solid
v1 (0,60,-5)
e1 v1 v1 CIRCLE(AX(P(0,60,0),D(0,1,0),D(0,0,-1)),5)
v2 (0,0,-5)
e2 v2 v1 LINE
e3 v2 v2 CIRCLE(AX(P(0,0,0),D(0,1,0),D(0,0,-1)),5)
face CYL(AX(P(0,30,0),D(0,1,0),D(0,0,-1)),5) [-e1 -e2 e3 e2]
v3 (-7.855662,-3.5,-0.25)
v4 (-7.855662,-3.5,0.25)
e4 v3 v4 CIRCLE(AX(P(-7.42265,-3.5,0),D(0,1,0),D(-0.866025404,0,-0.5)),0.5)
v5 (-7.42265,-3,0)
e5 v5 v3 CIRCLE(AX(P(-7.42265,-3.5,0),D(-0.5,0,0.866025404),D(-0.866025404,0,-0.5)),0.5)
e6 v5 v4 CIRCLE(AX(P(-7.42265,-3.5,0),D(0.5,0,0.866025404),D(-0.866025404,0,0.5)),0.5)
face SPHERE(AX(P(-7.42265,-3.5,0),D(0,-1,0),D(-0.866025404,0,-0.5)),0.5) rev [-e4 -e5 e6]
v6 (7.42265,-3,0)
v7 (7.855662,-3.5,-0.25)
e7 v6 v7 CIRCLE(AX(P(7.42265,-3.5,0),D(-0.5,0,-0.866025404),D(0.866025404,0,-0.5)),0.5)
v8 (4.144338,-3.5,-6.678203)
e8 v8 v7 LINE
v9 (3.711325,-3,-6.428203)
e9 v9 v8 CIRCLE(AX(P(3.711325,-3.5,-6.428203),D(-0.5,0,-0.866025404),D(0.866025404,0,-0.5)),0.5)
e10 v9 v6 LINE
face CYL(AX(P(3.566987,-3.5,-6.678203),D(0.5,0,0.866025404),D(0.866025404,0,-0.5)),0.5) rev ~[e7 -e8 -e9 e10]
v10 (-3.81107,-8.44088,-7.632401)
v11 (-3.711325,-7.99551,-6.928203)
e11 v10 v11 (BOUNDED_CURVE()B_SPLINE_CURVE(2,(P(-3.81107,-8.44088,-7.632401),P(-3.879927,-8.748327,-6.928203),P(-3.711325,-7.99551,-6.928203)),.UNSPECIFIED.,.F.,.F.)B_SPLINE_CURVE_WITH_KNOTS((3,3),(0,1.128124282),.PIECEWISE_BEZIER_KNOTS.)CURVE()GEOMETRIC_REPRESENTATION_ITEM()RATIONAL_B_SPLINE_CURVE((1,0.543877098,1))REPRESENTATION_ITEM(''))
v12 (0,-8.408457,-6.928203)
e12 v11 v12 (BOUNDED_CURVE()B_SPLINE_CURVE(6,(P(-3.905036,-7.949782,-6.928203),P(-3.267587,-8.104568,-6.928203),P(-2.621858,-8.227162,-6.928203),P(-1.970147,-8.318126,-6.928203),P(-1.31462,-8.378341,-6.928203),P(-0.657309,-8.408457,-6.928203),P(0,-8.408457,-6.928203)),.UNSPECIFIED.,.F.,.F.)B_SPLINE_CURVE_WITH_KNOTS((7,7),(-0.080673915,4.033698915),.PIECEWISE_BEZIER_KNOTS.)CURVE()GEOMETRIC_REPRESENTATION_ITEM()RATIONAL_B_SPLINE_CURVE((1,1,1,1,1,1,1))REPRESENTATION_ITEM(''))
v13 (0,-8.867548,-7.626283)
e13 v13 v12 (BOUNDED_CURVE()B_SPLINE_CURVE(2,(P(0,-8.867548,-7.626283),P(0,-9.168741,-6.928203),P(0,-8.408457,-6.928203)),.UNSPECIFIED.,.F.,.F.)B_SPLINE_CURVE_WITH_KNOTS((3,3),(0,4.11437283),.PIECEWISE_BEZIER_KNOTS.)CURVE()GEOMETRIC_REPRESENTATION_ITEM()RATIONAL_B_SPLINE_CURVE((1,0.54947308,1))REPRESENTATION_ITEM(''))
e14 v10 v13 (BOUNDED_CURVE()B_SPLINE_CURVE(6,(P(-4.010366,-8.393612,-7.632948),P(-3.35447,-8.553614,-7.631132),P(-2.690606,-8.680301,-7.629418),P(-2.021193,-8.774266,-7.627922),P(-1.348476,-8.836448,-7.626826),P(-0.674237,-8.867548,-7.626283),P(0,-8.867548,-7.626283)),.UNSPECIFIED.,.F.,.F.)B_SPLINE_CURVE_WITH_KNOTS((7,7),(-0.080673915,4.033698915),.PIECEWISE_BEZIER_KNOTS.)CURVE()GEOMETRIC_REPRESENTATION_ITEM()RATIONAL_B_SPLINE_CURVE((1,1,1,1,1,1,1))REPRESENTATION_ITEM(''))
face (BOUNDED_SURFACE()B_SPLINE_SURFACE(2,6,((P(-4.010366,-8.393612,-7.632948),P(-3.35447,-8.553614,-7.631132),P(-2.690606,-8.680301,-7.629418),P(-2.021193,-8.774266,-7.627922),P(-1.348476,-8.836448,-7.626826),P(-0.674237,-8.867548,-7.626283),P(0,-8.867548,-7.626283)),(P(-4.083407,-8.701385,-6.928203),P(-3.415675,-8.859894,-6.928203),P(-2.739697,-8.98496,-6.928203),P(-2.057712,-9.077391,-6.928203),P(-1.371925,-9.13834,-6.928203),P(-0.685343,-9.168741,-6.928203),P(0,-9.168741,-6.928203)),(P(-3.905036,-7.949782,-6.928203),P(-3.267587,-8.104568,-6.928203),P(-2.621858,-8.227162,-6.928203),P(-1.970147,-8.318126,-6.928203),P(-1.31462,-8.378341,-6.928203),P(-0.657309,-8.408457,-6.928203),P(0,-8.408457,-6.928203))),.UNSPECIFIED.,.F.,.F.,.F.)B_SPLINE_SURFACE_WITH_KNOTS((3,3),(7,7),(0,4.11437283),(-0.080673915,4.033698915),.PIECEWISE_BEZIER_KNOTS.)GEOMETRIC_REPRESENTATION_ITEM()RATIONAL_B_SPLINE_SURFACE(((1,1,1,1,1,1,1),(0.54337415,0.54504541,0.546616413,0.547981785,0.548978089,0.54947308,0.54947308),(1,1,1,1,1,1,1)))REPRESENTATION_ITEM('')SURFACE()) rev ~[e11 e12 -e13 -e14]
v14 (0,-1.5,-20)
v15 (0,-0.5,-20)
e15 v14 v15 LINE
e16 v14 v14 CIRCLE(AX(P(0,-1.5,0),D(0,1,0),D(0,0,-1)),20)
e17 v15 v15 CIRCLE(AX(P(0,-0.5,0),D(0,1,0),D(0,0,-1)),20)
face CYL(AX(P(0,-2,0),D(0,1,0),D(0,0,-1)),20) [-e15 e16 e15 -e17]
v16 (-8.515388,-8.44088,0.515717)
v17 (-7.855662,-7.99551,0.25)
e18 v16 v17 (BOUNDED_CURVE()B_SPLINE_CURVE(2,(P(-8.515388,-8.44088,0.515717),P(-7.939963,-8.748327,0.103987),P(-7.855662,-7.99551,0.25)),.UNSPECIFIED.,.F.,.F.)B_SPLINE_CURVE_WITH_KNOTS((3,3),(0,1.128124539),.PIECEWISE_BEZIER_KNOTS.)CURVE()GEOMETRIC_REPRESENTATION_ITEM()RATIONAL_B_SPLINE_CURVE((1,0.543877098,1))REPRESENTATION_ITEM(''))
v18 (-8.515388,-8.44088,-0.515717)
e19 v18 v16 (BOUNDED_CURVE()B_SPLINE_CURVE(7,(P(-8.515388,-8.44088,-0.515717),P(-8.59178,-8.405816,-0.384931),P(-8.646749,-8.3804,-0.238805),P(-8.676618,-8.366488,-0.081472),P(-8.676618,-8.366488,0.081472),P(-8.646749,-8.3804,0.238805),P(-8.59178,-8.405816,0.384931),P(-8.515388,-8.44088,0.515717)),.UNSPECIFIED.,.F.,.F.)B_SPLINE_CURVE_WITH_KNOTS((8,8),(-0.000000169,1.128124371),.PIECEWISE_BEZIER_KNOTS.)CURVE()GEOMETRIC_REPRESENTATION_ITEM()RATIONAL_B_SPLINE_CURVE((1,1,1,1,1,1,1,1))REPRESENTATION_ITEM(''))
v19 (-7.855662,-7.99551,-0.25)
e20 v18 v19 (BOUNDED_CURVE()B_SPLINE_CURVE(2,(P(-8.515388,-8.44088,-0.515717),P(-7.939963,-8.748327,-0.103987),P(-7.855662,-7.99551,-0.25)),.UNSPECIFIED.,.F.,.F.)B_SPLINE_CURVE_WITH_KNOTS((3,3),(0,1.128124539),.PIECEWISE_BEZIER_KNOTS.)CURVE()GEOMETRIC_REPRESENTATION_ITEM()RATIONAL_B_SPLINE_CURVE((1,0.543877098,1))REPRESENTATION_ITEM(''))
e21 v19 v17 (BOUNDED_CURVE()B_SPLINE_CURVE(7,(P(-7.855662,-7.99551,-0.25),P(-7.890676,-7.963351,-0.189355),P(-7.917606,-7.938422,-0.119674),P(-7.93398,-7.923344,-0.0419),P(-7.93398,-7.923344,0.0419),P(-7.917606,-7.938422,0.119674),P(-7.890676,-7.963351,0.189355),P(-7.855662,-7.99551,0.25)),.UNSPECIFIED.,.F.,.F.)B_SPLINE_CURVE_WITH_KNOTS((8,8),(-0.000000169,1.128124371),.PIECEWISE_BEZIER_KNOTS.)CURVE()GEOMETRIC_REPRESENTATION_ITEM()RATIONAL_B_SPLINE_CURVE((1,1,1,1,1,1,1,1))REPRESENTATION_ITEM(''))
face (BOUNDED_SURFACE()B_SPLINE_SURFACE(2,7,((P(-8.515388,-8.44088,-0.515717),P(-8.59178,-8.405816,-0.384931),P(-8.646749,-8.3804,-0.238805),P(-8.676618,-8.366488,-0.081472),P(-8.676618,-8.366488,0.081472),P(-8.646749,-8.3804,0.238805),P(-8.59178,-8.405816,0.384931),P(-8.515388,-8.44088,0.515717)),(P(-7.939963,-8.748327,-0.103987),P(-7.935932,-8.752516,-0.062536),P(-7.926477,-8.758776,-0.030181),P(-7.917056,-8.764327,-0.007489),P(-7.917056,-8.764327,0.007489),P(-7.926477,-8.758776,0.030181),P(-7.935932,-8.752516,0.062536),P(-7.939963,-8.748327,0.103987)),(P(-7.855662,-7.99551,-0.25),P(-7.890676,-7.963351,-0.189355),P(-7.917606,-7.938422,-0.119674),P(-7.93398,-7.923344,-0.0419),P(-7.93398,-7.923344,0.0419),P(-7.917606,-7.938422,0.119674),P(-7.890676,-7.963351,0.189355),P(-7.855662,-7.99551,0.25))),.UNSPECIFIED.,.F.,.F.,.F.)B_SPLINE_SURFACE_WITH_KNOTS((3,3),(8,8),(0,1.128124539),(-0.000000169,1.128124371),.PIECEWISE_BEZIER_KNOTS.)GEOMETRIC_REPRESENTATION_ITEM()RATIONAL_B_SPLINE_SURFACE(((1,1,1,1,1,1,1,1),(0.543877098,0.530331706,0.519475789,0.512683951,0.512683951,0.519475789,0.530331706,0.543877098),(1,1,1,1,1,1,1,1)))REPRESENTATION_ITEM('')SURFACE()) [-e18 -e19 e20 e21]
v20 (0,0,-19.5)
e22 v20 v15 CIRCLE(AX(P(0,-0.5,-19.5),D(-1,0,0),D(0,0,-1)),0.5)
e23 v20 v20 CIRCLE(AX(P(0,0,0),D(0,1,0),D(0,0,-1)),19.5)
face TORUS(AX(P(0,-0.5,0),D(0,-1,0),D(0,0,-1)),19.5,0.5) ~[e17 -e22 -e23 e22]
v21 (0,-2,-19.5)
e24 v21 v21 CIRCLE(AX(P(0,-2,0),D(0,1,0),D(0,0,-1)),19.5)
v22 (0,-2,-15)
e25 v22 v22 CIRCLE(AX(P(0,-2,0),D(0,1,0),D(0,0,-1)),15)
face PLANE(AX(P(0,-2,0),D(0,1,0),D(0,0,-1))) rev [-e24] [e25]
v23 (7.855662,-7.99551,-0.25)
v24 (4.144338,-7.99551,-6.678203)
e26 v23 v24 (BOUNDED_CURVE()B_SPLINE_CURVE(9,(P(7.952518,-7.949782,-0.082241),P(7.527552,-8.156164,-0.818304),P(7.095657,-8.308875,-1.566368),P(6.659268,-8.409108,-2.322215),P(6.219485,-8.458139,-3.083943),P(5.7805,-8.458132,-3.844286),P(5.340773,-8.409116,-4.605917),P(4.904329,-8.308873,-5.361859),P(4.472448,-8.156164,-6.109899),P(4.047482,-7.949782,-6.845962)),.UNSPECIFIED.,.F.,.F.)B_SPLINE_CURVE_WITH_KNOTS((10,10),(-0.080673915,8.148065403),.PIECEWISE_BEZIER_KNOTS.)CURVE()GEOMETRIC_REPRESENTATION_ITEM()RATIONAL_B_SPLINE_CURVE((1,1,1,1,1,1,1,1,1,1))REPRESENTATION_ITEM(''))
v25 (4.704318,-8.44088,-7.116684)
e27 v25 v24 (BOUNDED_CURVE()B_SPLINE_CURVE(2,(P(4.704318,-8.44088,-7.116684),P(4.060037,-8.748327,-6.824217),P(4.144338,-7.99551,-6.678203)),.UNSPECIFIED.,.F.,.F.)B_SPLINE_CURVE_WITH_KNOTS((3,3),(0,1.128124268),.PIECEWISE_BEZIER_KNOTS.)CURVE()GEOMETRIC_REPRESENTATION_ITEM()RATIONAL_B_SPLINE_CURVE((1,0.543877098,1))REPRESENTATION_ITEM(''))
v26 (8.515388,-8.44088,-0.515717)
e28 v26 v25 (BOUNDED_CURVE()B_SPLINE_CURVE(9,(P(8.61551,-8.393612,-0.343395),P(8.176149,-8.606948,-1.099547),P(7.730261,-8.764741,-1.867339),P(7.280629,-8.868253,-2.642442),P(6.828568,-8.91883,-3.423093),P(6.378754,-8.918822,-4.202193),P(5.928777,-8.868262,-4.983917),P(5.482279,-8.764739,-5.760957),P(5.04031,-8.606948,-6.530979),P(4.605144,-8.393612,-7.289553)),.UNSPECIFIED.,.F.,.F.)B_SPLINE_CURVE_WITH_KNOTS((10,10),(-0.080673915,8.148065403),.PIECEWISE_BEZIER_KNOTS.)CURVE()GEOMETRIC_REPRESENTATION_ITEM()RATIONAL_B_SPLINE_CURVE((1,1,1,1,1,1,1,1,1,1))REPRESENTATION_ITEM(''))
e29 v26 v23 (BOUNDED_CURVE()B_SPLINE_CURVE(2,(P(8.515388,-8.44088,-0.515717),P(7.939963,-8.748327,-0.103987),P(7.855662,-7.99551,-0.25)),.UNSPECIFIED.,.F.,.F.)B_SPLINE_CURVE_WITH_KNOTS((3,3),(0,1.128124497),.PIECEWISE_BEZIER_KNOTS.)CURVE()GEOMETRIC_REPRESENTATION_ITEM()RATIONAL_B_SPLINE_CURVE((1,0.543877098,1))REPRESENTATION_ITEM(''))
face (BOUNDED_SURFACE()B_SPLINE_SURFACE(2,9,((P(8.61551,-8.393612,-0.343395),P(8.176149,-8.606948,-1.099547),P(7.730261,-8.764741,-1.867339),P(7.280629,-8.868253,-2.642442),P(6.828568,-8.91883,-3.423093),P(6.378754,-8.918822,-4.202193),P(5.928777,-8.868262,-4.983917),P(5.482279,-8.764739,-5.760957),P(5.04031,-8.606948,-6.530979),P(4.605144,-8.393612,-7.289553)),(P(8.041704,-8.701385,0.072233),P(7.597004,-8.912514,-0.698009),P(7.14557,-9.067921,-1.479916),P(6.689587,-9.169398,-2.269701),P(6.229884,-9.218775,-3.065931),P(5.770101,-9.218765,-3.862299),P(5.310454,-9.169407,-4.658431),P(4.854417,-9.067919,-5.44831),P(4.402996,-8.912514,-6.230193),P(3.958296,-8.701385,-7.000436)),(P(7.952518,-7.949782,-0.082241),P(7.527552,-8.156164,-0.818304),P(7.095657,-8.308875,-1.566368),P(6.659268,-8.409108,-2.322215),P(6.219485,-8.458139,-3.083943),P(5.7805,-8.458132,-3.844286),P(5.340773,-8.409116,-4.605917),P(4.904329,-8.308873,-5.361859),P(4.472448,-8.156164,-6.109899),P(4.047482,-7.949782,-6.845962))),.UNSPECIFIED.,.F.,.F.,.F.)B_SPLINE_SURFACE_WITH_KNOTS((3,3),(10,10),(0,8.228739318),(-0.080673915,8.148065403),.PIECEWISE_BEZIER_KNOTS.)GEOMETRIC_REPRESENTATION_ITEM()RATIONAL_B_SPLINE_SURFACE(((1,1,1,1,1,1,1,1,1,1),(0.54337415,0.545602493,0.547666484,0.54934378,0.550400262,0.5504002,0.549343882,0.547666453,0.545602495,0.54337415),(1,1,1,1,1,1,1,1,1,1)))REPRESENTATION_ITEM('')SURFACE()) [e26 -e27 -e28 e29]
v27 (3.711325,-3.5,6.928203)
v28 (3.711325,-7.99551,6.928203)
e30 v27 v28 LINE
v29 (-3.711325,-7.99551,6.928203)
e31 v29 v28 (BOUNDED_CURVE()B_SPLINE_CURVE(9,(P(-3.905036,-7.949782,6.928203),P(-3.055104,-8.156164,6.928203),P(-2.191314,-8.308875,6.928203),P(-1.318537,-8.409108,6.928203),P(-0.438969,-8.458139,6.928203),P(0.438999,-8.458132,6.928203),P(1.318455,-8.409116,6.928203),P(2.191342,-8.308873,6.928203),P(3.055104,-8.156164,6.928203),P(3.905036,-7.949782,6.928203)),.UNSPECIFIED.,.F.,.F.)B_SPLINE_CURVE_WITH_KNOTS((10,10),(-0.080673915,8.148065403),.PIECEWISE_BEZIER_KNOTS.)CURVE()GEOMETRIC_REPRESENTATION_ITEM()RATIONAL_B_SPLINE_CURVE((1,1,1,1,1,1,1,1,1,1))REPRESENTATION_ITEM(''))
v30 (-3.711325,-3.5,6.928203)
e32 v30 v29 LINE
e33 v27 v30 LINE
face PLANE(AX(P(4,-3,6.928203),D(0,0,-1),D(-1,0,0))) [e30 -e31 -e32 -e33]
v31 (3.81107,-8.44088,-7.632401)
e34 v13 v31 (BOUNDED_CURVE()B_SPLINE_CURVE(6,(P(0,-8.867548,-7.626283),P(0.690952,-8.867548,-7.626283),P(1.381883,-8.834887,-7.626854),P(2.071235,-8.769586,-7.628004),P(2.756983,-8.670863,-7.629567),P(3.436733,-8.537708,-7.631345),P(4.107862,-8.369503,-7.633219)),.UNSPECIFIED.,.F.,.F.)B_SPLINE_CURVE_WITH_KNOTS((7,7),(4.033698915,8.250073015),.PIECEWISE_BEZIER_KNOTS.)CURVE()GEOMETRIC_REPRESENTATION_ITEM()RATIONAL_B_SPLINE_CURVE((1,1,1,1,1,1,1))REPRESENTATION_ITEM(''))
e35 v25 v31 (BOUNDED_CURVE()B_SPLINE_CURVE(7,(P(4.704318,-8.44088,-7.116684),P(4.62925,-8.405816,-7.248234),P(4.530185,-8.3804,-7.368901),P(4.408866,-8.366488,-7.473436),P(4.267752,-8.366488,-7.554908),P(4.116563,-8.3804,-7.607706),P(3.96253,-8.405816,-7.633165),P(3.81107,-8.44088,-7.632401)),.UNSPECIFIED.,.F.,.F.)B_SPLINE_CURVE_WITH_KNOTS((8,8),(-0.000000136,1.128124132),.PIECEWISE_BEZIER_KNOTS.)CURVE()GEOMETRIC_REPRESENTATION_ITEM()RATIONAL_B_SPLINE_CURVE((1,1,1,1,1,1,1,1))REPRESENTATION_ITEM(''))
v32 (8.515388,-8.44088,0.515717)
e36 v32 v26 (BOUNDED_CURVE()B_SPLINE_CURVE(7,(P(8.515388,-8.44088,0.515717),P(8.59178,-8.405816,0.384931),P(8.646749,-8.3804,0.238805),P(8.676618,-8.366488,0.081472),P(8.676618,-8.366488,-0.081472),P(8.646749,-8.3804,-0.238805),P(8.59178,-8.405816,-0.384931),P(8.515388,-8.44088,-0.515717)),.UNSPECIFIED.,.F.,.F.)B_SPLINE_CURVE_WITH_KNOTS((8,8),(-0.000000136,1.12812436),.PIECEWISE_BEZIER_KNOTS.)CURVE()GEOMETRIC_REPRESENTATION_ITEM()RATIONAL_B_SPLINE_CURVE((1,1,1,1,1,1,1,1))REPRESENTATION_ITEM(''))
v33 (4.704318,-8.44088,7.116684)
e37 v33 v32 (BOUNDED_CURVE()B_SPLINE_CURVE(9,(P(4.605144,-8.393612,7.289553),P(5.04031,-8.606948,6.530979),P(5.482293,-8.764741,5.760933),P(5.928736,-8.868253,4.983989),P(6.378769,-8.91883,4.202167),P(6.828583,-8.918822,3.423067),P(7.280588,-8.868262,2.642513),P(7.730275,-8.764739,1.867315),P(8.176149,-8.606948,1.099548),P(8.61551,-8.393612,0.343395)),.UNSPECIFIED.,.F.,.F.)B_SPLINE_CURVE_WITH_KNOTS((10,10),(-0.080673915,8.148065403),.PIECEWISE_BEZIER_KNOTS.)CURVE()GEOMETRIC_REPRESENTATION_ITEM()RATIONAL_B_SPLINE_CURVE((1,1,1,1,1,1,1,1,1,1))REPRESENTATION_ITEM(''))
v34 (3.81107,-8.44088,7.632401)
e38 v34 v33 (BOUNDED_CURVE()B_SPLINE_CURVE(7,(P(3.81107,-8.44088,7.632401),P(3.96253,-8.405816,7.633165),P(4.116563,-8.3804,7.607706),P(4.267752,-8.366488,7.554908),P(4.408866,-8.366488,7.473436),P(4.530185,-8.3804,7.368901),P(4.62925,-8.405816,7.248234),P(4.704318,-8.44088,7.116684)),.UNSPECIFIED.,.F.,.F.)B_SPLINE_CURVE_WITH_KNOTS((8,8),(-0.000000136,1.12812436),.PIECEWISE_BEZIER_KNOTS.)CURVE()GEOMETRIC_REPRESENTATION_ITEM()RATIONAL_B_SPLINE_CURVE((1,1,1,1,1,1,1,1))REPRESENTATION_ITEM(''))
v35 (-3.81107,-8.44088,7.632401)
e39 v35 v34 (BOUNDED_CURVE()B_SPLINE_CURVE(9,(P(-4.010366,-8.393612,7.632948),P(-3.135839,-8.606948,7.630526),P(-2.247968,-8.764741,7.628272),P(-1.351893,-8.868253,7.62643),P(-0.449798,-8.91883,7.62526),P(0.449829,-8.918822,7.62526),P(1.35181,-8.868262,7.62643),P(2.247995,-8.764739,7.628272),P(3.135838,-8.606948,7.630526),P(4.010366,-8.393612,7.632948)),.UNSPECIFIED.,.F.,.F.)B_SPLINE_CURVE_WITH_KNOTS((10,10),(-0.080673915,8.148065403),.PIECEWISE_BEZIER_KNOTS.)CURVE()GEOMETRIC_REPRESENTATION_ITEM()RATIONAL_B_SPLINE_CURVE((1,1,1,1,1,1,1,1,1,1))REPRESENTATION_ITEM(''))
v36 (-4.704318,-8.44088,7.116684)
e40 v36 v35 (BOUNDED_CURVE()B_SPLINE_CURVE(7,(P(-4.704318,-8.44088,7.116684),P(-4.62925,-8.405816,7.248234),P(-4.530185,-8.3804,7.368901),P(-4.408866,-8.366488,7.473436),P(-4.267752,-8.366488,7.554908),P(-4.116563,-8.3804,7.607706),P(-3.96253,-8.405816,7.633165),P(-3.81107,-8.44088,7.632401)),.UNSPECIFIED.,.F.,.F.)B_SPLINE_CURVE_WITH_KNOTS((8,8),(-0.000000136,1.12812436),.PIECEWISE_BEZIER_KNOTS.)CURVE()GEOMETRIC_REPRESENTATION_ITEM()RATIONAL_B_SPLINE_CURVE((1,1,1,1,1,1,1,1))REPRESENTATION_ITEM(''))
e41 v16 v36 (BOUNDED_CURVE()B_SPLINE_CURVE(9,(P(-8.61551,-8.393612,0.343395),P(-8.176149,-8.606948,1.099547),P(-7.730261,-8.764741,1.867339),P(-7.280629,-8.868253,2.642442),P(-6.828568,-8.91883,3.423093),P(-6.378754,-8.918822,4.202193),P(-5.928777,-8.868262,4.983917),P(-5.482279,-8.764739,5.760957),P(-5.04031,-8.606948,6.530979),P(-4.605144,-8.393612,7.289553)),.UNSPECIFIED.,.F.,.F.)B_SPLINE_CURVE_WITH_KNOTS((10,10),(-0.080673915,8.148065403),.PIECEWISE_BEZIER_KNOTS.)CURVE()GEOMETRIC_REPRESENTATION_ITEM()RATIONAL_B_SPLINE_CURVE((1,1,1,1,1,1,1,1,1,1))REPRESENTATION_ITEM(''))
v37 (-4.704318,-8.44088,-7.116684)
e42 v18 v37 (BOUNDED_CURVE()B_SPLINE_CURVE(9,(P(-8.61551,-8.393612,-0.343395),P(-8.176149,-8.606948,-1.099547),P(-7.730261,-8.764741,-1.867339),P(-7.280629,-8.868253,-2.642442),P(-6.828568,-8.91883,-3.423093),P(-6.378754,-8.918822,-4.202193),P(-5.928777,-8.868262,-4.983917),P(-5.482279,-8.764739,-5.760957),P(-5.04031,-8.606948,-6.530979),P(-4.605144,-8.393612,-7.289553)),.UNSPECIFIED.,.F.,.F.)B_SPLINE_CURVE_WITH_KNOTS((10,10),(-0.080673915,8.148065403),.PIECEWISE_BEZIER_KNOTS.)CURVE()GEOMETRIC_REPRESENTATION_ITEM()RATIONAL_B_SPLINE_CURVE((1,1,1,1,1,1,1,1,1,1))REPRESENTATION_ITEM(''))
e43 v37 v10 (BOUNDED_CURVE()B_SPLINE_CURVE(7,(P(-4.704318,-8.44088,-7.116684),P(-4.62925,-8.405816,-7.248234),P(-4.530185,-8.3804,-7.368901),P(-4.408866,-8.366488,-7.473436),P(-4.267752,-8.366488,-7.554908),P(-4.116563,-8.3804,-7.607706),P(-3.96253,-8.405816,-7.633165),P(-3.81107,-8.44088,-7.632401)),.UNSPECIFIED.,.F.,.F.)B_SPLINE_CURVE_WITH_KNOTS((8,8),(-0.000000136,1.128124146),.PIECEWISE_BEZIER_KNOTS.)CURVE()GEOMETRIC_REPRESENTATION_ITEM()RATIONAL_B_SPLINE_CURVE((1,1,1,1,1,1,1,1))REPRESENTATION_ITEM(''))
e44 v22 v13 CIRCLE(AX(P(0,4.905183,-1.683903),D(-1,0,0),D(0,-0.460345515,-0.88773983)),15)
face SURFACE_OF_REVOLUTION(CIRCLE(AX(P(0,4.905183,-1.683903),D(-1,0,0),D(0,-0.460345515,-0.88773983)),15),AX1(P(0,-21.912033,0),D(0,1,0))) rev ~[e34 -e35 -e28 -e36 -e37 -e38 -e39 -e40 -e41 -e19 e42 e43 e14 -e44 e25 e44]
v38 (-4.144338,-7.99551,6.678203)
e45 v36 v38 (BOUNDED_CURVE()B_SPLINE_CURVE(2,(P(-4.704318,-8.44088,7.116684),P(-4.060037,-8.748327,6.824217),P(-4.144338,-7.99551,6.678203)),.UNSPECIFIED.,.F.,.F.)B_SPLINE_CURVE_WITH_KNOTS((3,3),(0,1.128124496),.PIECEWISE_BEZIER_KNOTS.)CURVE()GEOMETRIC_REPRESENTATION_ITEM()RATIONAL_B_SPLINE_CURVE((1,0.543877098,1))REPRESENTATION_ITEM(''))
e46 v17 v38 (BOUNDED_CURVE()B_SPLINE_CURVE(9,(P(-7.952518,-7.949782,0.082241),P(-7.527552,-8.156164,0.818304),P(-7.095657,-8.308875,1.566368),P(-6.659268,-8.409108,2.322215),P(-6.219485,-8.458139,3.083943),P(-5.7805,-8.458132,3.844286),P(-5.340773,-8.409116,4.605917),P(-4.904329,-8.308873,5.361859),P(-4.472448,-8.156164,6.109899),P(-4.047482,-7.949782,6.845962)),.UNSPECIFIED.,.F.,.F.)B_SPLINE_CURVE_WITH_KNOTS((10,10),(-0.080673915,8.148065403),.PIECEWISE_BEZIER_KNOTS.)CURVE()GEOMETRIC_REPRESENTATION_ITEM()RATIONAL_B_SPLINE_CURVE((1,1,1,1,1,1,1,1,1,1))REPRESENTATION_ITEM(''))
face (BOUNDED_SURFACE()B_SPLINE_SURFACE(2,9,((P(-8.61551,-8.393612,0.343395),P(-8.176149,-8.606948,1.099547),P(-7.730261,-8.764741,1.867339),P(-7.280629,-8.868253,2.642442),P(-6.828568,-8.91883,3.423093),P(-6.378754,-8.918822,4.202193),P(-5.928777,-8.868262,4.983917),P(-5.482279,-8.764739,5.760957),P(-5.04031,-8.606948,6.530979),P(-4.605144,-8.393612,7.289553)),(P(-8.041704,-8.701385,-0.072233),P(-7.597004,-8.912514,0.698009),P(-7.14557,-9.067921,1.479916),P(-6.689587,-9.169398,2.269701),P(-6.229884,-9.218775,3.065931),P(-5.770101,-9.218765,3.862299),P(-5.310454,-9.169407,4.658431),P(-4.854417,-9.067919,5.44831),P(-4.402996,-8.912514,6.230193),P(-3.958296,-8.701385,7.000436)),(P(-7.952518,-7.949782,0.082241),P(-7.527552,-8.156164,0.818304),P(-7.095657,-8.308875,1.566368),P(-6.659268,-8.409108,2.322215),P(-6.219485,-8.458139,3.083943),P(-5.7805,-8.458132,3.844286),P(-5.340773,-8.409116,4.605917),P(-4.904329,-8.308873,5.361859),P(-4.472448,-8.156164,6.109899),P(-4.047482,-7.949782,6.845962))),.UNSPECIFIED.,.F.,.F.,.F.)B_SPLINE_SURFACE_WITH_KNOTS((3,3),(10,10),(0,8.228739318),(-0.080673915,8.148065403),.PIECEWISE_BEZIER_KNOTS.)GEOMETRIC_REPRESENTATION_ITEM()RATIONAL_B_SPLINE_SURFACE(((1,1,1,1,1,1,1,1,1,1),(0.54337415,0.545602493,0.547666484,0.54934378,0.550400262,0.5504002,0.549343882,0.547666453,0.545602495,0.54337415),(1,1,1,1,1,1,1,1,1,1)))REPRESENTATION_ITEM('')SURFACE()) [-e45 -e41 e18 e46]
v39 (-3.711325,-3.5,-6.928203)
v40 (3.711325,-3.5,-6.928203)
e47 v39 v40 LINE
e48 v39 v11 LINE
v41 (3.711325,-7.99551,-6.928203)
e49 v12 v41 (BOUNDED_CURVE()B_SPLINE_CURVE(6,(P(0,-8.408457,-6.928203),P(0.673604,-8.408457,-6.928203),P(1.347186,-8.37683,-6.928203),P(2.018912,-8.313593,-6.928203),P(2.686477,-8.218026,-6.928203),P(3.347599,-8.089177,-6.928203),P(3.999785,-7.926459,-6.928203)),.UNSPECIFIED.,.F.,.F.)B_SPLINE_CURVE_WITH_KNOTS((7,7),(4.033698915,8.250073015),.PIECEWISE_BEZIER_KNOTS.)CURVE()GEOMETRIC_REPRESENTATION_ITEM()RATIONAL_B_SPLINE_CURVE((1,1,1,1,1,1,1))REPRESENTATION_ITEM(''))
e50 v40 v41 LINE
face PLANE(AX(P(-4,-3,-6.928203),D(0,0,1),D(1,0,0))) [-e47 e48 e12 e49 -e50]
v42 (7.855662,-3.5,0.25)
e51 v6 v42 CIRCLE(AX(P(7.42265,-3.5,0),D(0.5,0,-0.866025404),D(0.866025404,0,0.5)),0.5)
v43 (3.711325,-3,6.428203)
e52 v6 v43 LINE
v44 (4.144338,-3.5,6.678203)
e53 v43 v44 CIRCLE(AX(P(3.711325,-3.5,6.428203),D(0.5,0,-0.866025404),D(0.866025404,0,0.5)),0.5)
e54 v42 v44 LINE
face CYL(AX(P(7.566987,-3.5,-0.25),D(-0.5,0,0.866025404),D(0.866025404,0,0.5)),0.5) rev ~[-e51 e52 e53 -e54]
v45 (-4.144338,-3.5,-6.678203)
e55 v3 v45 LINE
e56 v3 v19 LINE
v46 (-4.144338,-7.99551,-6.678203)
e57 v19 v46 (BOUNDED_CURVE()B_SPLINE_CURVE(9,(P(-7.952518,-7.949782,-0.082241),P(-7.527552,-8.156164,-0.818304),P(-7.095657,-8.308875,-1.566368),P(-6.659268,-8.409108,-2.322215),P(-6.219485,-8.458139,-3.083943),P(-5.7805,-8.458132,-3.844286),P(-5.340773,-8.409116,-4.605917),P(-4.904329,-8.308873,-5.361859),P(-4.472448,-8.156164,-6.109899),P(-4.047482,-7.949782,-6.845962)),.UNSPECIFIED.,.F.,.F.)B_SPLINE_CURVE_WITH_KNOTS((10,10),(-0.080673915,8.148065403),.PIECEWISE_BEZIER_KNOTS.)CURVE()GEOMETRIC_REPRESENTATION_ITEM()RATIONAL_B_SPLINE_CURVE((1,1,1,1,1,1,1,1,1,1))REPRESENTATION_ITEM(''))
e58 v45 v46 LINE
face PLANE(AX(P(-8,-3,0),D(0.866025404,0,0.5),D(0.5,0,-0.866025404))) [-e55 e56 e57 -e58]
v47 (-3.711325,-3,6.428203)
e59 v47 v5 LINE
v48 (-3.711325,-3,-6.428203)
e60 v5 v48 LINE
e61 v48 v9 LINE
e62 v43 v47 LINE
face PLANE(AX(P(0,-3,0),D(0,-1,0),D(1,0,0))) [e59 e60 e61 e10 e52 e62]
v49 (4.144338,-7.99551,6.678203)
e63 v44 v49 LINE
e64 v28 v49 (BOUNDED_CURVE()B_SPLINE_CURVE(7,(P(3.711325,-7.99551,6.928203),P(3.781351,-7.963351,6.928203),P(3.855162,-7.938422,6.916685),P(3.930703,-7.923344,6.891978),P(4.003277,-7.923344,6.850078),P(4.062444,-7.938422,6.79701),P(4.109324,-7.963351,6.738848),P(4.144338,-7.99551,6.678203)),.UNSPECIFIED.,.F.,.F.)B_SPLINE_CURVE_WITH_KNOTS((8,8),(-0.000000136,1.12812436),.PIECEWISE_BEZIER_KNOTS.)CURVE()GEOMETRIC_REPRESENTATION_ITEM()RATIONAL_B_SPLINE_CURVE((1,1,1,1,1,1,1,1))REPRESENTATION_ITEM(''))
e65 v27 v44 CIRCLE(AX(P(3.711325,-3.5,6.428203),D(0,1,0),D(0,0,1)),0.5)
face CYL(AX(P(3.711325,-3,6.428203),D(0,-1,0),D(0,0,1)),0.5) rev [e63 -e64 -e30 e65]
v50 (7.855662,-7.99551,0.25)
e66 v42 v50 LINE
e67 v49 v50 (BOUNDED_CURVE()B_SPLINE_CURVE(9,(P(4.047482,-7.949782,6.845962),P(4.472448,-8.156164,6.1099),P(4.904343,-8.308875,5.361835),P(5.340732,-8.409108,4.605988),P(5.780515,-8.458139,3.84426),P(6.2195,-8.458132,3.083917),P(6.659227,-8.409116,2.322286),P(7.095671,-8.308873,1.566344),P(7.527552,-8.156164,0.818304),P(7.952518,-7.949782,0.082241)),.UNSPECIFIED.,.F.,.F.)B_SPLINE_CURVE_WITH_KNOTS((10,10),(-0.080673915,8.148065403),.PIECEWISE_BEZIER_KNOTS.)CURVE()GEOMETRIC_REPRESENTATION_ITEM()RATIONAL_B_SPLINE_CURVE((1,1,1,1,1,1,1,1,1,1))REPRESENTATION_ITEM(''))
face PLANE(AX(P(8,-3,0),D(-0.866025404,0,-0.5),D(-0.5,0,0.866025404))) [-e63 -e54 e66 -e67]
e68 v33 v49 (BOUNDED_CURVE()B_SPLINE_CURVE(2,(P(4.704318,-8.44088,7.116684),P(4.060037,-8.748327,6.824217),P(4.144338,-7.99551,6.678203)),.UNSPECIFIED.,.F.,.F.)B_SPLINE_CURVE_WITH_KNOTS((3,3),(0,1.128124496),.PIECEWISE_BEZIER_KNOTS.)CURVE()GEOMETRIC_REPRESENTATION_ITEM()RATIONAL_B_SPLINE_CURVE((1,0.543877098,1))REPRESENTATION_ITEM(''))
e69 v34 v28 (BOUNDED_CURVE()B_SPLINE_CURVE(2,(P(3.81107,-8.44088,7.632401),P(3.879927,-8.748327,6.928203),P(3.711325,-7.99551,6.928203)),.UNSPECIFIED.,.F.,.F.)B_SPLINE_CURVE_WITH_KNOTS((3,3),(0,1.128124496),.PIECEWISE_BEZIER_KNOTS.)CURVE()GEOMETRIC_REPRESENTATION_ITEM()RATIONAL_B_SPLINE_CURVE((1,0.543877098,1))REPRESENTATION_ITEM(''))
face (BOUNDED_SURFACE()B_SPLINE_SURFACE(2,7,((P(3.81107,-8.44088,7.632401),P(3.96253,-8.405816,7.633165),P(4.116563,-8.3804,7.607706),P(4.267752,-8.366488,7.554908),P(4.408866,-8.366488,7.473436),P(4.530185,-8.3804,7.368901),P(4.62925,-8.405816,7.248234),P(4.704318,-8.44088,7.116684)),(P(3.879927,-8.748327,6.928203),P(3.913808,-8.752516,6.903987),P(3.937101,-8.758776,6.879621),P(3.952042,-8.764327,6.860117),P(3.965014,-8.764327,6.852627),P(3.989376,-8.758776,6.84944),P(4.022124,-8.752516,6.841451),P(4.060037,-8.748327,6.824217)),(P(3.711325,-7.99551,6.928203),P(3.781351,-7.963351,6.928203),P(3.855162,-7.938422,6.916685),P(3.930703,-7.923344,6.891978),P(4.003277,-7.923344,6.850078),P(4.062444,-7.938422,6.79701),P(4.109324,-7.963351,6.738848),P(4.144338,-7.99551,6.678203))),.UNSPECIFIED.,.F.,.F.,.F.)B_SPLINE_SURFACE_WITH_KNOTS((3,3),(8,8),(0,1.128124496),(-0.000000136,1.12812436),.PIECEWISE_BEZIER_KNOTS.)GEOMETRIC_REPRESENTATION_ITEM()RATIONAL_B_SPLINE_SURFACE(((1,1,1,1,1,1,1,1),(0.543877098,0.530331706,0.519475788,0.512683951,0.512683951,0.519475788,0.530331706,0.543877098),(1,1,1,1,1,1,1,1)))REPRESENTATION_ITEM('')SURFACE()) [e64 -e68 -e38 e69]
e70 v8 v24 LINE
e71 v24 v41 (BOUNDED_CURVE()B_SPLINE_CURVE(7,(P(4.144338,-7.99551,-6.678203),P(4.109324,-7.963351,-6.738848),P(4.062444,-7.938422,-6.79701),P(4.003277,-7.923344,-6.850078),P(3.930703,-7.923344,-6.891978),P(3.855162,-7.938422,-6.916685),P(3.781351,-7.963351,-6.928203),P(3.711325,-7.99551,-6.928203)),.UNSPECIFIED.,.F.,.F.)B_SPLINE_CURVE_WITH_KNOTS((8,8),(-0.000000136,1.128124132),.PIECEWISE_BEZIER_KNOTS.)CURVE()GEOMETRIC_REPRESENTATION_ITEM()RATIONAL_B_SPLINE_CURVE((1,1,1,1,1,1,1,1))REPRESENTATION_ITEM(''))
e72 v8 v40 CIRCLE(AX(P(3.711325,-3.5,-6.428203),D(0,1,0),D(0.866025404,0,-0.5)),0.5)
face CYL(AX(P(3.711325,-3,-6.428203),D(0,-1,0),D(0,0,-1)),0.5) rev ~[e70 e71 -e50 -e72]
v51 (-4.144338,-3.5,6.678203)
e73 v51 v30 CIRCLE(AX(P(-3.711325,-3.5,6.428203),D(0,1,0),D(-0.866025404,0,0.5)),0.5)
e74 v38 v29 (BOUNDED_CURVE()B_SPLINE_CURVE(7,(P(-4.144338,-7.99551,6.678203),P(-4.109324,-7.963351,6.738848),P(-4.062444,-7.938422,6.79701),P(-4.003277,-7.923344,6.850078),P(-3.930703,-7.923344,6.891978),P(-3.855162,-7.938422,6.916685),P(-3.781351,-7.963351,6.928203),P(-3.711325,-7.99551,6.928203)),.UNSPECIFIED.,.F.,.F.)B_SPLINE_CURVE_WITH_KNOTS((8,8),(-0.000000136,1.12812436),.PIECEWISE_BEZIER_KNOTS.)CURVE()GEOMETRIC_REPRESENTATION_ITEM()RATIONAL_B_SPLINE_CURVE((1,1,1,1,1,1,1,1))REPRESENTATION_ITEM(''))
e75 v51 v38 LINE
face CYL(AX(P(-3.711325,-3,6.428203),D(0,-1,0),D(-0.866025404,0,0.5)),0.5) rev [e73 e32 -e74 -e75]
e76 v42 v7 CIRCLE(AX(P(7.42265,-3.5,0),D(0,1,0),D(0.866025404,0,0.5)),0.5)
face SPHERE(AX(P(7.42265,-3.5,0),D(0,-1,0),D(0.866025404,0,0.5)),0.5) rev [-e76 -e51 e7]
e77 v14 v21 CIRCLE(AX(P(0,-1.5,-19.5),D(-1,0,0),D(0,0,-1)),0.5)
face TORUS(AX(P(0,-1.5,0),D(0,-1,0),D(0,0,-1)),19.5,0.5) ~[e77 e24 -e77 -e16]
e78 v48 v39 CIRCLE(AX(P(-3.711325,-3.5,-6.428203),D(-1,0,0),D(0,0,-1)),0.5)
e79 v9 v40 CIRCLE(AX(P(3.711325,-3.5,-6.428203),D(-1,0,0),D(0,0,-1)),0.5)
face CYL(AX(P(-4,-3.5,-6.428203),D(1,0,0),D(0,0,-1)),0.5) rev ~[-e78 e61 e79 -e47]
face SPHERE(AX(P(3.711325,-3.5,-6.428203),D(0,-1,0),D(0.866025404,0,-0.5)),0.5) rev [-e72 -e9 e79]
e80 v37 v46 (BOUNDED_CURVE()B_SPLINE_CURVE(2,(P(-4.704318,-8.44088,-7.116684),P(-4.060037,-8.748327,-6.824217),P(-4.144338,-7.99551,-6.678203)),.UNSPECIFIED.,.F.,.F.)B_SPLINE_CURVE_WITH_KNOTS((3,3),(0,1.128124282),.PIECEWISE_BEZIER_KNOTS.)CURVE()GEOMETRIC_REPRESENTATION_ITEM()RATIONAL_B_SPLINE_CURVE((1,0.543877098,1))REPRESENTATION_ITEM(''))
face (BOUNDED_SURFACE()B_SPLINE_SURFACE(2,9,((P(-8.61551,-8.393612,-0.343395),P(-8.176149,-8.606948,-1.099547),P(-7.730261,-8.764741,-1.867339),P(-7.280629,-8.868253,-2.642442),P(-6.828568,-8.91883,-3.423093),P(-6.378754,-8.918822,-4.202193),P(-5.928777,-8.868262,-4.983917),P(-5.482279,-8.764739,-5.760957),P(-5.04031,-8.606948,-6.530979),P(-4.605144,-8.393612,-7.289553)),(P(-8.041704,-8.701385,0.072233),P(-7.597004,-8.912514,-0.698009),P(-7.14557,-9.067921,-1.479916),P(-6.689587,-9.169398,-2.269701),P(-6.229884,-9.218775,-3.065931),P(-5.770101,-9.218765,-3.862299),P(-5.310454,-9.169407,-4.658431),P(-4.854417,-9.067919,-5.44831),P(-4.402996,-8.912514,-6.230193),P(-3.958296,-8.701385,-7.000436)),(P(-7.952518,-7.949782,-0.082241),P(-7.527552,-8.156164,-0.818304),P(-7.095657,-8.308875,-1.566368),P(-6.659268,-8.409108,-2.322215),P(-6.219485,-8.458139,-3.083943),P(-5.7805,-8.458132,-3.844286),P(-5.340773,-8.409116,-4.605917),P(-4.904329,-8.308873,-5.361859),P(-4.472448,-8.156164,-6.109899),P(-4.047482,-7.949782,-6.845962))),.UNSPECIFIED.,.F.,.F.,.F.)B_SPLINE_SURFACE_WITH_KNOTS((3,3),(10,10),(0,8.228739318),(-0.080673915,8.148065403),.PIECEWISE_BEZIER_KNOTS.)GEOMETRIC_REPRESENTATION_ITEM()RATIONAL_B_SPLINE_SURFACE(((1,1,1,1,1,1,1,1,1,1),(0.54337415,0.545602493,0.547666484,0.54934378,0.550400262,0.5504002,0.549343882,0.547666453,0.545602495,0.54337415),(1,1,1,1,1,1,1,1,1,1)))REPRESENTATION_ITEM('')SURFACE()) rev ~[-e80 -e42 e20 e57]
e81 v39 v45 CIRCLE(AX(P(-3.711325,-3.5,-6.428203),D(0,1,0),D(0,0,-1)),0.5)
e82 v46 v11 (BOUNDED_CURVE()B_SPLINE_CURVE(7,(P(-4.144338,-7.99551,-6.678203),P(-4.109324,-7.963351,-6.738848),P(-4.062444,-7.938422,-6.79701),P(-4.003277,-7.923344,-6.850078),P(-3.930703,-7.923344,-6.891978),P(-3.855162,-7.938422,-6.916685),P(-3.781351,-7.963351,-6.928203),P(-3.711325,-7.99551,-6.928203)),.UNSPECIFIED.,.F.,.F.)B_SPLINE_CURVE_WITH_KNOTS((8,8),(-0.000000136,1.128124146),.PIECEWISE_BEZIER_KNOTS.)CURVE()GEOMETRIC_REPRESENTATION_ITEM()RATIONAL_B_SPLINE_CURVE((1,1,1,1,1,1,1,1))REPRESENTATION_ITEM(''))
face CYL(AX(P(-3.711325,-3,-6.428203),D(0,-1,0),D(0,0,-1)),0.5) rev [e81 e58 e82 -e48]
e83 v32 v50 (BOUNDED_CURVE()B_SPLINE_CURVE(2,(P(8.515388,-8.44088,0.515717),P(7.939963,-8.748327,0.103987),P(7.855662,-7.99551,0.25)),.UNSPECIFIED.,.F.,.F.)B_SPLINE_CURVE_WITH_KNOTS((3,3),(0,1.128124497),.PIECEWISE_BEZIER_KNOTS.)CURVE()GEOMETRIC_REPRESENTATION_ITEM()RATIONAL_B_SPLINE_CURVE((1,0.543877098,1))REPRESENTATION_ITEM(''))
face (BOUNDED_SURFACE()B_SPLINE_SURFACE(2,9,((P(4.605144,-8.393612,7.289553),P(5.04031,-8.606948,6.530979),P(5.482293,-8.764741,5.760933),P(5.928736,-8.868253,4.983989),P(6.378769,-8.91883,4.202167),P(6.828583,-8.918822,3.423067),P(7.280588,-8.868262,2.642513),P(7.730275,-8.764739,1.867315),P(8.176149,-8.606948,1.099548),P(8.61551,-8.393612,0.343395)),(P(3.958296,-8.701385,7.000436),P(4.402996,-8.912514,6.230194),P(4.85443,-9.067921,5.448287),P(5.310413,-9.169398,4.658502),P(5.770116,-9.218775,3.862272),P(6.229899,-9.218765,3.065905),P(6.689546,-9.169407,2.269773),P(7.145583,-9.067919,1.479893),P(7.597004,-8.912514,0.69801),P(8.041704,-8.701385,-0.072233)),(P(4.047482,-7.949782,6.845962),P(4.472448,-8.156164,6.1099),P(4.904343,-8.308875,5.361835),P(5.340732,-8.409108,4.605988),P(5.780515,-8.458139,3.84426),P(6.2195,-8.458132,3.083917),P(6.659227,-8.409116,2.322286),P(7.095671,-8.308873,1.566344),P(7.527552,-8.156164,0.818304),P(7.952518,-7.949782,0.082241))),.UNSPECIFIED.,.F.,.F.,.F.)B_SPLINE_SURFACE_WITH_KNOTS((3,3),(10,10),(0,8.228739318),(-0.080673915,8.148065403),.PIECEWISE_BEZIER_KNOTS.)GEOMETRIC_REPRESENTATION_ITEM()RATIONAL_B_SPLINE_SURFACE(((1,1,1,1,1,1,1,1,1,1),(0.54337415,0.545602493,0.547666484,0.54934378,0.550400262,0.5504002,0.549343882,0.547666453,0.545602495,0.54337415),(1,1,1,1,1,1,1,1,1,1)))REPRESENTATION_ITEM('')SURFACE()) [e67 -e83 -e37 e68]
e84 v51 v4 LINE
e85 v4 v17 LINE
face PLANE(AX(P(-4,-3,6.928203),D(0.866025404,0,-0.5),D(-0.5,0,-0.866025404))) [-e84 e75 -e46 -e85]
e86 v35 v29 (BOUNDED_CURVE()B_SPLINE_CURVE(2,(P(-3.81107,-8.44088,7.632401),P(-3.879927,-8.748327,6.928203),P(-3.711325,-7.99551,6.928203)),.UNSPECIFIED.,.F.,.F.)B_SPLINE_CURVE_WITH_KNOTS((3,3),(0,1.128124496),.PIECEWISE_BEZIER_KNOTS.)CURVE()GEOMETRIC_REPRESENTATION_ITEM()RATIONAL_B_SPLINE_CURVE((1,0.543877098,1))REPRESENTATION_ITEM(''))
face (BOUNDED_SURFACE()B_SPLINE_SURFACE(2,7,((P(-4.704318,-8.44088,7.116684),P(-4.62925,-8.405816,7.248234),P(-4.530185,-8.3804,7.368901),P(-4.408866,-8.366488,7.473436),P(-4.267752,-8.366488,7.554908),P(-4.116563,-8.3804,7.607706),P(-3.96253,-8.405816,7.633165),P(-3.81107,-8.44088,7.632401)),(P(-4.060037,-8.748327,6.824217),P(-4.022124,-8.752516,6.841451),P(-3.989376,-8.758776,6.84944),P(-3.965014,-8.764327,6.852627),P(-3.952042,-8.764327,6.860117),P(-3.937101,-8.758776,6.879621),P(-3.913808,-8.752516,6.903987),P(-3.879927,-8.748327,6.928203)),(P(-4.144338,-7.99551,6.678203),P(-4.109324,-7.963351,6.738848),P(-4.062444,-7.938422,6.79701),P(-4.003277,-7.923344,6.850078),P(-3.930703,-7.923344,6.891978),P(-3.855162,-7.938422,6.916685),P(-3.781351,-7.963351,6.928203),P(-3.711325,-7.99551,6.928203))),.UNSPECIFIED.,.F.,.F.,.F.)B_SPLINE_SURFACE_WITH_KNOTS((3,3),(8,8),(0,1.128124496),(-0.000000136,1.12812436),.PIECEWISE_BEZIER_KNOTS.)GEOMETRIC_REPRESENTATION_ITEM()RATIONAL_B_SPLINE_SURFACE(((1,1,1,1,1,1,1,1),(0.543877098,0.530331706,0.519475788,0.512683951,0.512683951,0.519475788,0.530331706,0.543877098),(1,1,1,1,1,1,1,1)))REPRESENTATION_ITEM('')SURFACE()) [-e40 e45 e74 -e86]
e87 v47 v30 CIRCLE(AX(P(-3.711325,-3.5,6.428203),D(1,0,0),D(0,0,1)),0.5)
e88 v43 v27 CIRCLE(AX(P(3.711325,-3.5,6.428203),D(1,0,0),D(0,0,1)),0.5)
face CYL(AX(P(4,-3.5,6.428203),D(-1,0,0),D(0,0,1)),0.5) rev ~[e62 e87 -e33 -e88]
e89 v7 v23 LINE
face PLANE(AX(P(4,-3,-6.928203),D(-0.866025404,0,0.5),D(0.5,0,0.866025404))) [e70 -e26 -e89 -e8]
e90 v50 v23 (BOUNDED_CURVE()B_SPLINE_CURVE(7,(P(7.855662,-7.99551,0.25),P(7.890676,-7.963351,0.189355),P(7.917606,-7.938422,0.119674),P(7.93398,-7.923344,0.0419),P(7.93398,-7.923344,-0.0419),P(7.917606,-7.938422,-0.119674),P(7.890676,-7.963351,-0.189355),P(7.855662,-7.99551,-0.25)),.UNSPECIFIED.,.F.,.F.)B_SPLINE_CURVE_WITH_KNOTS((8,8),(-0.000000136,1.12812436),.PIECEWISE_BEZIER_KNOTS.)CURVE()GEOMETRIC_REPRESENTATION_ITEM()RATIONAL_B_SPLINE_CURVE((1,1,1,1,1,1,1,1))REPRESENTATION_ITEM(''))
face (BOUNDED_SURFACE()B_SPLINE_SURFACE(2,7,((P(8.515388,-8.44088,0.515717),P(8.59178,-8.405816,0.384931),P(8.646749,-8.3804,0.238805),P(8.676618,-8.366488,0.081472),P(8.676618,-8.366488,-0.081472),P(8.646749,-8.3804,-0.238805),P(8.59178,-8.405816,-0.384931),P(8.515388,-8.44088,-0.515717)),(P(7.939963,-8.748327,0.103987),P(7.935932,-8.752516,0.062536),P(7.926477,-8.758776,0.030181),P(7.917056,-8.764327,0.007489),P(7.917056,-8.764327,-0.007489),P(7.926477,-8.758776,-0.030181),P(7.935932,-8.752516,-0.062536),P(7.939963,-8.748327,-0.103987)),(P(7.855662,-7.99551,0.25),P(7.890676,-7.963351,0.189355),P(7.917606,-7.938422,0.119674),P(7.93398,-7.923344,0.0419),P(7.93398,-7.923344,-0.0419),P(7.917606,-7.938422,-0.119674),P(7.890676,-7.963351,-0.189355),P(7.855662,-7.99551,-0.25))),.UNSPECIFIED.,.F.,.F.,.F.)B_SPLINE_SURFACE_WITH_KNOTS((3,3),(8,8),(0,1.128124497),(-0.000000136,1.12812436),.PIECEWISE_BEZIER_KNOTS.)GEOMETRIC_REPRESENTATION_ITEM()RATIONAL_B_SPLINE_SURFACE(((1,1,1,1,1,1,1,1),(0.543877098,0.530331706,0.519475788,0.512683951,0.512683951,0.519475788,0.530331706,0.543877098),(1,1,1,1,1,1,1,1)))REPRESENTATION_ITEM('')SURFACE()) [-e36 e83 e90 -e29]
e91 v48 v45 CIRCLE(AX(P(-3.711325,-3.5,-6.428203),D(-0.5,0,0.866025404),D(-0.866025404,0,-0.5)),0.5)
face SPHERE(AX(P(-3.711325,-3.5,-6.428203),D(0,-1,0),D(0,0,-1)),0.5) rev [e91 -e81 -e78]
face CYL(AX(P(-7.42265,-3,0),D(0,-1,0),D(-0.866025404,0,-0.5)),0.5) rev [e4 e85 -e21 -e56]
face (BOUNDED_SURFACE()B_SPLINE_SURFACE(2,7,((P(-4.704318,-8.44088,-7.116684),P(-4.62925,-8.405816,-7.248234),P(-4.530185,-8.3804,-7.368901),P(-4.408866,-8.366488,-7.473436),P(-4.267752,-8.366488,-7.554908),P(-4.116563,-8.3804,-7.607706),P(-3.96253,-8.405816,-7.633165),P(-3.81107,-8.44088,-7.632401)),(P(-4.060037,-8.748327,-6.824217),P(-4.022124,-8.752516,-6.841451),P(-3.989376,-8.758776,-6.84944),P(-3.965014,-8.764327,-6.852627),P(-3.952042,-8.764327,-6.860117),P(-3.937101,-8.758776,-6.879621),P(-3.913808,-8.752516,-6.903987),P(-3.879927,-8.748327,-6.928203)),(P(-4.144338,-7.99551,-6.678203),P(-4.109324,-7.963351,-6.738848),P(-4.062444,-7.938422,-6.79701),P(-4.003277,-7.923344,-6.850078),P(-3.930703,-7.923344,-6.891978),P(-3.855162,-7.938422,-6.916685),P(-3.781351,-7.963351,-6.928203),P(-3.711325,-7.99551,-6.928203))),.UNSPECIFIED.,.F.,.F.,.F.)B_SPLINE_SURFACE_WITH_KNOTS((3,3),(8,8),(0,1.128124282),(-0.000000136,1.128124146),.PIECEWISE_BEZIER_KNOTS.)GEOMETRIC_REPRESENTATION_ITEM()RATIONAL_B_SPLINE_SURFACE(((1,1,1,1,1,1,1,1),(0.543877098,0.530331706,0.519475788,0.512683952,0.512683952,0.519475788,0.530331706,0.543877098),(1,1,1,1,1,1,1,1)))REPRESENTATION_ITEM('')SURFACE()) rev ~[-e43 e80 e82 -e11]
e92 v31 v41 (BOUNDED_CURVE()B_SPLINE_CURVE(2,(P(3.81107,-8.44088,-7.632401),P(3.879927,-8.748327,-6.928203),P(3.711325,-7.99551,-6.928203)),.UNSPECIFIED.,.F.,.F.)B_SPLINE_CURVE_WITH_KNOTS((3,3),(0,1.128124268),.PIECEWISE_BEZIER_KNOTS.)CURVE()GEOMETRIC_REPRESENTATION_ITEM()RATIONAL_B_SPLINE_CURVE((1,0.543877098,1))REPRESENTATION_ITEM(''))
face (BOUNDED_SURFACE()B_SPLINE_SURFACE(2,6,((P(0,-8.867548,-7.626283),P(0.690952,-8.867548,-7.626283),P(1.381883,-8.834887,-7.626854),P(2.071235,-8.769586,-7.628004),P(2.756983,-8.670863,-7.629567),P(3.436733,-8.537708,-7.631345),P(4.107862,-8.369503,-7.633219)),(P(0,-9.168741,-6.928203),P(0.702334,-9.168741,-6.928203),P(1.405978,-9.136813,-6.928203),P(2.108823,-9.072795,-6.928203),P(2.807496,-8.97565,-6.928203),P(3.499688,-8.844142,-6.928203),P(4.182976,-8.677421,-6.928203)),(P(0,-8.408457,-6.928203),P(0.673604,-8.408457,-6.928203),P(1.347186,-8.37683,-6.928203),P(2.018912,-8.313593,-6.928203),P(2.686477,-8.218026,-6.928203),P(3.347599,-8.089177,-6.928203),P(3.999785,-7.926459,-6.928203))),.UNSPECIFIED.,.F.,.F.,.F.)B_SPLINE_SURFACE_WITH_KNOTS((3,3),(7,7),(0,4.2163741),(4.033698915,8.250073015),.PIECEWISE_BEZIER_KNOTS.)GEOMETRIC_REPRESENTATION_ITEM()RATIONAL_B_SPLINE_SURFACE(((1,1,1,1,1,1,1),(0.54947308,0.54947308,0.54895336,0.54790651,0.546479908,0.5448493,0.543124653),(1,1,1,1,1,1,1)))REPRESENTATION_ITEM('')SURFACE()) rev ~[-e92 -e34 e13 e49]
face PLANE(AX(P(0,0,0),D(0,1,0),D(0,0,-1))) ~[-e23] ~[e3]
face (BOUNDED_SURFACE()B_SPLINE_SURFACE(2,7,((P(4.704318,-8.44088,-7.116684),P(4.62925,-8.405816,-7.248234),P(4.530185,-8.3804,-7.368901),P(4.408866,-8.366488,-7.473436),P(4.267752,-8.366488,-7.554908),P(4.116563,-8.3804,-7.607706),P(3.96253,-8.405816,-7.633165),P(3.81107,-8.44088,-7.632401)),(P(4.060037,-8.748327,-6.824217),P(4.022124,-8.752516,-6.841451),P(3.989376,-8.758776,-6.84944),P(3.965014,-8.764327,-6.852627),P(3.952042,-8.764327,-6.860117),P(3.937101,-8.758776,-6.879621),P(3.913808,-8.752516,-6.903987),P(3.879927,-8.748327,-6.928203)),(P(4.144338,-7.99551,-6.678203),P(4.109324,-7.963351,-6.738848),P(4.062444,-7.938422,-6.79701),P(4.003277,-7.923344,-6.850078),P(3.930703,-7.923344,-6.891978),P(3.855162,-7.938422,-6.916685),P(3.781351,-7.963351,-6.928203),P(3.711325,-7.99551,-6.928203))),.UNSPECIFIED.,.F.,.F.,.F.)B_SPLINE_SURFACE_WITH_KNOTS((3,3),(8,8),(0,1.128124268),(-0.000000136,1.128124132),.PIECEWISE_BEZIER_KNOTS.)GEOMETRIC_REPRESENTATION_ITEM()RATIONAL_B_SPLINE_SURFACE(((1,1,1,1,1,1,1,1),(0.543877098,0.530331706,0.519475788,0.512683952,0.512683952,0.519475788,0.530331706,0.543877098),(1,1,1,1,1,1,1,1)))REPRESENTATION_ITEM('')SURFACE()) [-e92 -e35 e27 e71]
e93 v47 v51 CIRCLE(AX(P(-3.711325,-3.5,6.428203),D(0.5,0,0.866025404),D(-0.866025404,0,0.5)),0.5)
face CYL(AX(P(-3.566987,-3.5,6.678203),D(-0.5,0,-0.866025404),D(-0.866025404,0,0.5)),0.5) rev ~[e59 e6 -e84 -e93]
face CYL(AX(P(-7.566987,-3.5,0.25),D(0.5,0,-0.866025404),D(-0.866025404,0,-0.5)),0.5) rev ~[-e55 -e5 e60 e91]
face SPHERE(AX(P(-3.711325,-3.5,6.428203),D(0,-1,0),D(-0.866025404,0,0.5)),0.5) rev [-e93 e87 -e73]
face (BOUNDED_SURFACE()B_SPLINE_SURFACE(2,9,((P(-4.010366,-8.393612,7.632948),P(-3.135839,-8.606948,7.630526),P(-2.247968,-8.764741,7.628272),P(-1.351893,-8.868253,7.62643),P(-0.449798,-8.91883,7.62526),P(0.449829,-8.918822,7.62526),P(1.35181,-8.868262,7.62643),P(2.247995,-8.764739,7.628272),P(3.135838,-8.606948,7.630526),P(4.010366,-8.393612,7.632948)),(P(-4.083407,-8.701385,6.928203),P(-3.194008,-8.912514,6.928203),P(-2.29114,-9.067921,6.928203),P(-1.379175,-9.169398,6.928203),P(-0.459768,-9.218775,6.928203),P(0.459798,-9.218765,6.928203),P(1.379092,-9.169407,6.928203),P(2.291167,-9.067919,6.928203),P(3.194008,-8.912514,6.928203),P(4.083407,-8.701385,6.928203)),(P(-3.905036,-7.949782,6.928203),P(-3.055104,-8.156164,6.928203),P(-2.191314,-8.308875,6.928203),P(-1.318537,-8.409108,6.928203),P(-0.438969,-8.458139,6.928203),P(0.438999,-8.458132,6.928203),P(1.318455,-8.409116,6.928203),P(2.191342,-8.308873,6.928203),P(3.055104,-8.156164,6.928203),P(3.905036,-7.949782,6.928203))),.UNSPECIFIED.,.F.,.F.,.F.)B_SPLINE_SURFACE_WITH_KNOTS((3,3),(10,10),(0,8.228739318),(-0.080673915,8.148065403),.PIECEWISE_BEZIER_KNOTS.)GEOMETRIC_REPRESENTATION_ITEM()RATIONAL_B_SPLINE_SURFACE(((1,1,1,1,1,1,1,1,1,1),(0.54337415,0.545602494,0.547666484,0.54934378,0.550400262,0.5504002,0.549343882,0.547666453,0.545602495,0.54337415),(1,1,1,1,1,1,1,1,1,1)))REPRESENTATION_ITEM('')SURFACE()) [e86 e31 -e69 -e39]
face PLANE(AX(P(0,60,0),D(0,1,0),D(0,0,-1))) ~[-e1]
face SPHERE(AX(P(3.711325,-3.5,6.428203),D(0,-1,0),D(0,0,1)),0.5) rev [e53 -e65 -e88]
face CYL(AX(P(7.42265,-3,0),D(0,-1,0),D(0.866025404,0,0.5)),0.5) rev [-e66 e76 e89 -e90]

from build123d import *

# Parameters (mm, degrees)
SKETCH1_W          = 60
SKETCH1_H          = 5
CUT_EXTRUDE1_START = 1
CUT_EXTRUDE1_DEPTH = 10
FILLET1_R          = 0.5


with BuildPart() as part:
    # Sketch1 → Revolve1 (revolve)
    with BuildSketch(Plane.YZ, mode=Mode.PRIVATE) as revolve1_sk:
        with BuildLine():
            Line((-10, 0), (-2, 0))
            Line((-2, 0), (-2, 15))
            ThreePointArc((-2, 15), (-8.330111387, 8.742726073), (-10, 0))
        make_face()
        Polygon((0, 20), (0, 5), (0, 0), (-2, 0), (-2, 20), align=None)
        with Locations((30, 2.5)):
            Rectangle(SKETCH1_W, SKETCH1_H)
    revolve(revolve1_sk.sketch.rotate(Axis((0, -21.912032937, 0), (0, 1, 0)), 180), axis=Axis((0, -21.912032937, 0), (0, 1, 0)))

    # Sketch2 → Cut-Extrude1 (cut)
    with BuildSketch(Plane.XZ.offset(2).offset(CUT_EXTRUDE1_START)):
        Polygon((4, -6.92820323), (8, 0), (4, 6.92820323), (-4, 6.92820323), (-8, 0), (-4, -6.92820323), align=None)
    extrude(amount=CUT_EXTRUDE1_DEPTH, mode=Mode.SUBTRACT)

    # Fillet1
    fillet1_edges = [part.edges().sort_by_distance(p)[0] for p in [
        (-6, -9.148190897, -3.464101615),
        (-6, -9.148190897, 3.464101615),
        (0, -9.148190897, 6.92820323),
        (6, -9.148190897, 3.464101615),
        (6, -9.148190897, -3.464101615),
        (-2.012812506, -9.037939191, -6.92820323),
        (-4, -5.850108704, -6.92820323),
        (0, -3, -6.92820323),
        (4, -5.850108704, -6.92820323),
        (6, -3, -3.464101615),
        (8, -5.850108704, 0),
        (6, -3, 3.464101615),
        (4, -5.850108704, 6.92820323),
        (0, -3, 6.92820323),
        (-4, -5.850108704, 6.92820323),
        (-6, -3, 3.464101615),
        (-8, -5.850108704, 0),
        (-6, -3, -3.464101615),
        (0, -2, 20),
        (0, 0, 20),
    ]]
    fillet(fillet1_edges, radius=FILLET1_R)


solid = part.part
